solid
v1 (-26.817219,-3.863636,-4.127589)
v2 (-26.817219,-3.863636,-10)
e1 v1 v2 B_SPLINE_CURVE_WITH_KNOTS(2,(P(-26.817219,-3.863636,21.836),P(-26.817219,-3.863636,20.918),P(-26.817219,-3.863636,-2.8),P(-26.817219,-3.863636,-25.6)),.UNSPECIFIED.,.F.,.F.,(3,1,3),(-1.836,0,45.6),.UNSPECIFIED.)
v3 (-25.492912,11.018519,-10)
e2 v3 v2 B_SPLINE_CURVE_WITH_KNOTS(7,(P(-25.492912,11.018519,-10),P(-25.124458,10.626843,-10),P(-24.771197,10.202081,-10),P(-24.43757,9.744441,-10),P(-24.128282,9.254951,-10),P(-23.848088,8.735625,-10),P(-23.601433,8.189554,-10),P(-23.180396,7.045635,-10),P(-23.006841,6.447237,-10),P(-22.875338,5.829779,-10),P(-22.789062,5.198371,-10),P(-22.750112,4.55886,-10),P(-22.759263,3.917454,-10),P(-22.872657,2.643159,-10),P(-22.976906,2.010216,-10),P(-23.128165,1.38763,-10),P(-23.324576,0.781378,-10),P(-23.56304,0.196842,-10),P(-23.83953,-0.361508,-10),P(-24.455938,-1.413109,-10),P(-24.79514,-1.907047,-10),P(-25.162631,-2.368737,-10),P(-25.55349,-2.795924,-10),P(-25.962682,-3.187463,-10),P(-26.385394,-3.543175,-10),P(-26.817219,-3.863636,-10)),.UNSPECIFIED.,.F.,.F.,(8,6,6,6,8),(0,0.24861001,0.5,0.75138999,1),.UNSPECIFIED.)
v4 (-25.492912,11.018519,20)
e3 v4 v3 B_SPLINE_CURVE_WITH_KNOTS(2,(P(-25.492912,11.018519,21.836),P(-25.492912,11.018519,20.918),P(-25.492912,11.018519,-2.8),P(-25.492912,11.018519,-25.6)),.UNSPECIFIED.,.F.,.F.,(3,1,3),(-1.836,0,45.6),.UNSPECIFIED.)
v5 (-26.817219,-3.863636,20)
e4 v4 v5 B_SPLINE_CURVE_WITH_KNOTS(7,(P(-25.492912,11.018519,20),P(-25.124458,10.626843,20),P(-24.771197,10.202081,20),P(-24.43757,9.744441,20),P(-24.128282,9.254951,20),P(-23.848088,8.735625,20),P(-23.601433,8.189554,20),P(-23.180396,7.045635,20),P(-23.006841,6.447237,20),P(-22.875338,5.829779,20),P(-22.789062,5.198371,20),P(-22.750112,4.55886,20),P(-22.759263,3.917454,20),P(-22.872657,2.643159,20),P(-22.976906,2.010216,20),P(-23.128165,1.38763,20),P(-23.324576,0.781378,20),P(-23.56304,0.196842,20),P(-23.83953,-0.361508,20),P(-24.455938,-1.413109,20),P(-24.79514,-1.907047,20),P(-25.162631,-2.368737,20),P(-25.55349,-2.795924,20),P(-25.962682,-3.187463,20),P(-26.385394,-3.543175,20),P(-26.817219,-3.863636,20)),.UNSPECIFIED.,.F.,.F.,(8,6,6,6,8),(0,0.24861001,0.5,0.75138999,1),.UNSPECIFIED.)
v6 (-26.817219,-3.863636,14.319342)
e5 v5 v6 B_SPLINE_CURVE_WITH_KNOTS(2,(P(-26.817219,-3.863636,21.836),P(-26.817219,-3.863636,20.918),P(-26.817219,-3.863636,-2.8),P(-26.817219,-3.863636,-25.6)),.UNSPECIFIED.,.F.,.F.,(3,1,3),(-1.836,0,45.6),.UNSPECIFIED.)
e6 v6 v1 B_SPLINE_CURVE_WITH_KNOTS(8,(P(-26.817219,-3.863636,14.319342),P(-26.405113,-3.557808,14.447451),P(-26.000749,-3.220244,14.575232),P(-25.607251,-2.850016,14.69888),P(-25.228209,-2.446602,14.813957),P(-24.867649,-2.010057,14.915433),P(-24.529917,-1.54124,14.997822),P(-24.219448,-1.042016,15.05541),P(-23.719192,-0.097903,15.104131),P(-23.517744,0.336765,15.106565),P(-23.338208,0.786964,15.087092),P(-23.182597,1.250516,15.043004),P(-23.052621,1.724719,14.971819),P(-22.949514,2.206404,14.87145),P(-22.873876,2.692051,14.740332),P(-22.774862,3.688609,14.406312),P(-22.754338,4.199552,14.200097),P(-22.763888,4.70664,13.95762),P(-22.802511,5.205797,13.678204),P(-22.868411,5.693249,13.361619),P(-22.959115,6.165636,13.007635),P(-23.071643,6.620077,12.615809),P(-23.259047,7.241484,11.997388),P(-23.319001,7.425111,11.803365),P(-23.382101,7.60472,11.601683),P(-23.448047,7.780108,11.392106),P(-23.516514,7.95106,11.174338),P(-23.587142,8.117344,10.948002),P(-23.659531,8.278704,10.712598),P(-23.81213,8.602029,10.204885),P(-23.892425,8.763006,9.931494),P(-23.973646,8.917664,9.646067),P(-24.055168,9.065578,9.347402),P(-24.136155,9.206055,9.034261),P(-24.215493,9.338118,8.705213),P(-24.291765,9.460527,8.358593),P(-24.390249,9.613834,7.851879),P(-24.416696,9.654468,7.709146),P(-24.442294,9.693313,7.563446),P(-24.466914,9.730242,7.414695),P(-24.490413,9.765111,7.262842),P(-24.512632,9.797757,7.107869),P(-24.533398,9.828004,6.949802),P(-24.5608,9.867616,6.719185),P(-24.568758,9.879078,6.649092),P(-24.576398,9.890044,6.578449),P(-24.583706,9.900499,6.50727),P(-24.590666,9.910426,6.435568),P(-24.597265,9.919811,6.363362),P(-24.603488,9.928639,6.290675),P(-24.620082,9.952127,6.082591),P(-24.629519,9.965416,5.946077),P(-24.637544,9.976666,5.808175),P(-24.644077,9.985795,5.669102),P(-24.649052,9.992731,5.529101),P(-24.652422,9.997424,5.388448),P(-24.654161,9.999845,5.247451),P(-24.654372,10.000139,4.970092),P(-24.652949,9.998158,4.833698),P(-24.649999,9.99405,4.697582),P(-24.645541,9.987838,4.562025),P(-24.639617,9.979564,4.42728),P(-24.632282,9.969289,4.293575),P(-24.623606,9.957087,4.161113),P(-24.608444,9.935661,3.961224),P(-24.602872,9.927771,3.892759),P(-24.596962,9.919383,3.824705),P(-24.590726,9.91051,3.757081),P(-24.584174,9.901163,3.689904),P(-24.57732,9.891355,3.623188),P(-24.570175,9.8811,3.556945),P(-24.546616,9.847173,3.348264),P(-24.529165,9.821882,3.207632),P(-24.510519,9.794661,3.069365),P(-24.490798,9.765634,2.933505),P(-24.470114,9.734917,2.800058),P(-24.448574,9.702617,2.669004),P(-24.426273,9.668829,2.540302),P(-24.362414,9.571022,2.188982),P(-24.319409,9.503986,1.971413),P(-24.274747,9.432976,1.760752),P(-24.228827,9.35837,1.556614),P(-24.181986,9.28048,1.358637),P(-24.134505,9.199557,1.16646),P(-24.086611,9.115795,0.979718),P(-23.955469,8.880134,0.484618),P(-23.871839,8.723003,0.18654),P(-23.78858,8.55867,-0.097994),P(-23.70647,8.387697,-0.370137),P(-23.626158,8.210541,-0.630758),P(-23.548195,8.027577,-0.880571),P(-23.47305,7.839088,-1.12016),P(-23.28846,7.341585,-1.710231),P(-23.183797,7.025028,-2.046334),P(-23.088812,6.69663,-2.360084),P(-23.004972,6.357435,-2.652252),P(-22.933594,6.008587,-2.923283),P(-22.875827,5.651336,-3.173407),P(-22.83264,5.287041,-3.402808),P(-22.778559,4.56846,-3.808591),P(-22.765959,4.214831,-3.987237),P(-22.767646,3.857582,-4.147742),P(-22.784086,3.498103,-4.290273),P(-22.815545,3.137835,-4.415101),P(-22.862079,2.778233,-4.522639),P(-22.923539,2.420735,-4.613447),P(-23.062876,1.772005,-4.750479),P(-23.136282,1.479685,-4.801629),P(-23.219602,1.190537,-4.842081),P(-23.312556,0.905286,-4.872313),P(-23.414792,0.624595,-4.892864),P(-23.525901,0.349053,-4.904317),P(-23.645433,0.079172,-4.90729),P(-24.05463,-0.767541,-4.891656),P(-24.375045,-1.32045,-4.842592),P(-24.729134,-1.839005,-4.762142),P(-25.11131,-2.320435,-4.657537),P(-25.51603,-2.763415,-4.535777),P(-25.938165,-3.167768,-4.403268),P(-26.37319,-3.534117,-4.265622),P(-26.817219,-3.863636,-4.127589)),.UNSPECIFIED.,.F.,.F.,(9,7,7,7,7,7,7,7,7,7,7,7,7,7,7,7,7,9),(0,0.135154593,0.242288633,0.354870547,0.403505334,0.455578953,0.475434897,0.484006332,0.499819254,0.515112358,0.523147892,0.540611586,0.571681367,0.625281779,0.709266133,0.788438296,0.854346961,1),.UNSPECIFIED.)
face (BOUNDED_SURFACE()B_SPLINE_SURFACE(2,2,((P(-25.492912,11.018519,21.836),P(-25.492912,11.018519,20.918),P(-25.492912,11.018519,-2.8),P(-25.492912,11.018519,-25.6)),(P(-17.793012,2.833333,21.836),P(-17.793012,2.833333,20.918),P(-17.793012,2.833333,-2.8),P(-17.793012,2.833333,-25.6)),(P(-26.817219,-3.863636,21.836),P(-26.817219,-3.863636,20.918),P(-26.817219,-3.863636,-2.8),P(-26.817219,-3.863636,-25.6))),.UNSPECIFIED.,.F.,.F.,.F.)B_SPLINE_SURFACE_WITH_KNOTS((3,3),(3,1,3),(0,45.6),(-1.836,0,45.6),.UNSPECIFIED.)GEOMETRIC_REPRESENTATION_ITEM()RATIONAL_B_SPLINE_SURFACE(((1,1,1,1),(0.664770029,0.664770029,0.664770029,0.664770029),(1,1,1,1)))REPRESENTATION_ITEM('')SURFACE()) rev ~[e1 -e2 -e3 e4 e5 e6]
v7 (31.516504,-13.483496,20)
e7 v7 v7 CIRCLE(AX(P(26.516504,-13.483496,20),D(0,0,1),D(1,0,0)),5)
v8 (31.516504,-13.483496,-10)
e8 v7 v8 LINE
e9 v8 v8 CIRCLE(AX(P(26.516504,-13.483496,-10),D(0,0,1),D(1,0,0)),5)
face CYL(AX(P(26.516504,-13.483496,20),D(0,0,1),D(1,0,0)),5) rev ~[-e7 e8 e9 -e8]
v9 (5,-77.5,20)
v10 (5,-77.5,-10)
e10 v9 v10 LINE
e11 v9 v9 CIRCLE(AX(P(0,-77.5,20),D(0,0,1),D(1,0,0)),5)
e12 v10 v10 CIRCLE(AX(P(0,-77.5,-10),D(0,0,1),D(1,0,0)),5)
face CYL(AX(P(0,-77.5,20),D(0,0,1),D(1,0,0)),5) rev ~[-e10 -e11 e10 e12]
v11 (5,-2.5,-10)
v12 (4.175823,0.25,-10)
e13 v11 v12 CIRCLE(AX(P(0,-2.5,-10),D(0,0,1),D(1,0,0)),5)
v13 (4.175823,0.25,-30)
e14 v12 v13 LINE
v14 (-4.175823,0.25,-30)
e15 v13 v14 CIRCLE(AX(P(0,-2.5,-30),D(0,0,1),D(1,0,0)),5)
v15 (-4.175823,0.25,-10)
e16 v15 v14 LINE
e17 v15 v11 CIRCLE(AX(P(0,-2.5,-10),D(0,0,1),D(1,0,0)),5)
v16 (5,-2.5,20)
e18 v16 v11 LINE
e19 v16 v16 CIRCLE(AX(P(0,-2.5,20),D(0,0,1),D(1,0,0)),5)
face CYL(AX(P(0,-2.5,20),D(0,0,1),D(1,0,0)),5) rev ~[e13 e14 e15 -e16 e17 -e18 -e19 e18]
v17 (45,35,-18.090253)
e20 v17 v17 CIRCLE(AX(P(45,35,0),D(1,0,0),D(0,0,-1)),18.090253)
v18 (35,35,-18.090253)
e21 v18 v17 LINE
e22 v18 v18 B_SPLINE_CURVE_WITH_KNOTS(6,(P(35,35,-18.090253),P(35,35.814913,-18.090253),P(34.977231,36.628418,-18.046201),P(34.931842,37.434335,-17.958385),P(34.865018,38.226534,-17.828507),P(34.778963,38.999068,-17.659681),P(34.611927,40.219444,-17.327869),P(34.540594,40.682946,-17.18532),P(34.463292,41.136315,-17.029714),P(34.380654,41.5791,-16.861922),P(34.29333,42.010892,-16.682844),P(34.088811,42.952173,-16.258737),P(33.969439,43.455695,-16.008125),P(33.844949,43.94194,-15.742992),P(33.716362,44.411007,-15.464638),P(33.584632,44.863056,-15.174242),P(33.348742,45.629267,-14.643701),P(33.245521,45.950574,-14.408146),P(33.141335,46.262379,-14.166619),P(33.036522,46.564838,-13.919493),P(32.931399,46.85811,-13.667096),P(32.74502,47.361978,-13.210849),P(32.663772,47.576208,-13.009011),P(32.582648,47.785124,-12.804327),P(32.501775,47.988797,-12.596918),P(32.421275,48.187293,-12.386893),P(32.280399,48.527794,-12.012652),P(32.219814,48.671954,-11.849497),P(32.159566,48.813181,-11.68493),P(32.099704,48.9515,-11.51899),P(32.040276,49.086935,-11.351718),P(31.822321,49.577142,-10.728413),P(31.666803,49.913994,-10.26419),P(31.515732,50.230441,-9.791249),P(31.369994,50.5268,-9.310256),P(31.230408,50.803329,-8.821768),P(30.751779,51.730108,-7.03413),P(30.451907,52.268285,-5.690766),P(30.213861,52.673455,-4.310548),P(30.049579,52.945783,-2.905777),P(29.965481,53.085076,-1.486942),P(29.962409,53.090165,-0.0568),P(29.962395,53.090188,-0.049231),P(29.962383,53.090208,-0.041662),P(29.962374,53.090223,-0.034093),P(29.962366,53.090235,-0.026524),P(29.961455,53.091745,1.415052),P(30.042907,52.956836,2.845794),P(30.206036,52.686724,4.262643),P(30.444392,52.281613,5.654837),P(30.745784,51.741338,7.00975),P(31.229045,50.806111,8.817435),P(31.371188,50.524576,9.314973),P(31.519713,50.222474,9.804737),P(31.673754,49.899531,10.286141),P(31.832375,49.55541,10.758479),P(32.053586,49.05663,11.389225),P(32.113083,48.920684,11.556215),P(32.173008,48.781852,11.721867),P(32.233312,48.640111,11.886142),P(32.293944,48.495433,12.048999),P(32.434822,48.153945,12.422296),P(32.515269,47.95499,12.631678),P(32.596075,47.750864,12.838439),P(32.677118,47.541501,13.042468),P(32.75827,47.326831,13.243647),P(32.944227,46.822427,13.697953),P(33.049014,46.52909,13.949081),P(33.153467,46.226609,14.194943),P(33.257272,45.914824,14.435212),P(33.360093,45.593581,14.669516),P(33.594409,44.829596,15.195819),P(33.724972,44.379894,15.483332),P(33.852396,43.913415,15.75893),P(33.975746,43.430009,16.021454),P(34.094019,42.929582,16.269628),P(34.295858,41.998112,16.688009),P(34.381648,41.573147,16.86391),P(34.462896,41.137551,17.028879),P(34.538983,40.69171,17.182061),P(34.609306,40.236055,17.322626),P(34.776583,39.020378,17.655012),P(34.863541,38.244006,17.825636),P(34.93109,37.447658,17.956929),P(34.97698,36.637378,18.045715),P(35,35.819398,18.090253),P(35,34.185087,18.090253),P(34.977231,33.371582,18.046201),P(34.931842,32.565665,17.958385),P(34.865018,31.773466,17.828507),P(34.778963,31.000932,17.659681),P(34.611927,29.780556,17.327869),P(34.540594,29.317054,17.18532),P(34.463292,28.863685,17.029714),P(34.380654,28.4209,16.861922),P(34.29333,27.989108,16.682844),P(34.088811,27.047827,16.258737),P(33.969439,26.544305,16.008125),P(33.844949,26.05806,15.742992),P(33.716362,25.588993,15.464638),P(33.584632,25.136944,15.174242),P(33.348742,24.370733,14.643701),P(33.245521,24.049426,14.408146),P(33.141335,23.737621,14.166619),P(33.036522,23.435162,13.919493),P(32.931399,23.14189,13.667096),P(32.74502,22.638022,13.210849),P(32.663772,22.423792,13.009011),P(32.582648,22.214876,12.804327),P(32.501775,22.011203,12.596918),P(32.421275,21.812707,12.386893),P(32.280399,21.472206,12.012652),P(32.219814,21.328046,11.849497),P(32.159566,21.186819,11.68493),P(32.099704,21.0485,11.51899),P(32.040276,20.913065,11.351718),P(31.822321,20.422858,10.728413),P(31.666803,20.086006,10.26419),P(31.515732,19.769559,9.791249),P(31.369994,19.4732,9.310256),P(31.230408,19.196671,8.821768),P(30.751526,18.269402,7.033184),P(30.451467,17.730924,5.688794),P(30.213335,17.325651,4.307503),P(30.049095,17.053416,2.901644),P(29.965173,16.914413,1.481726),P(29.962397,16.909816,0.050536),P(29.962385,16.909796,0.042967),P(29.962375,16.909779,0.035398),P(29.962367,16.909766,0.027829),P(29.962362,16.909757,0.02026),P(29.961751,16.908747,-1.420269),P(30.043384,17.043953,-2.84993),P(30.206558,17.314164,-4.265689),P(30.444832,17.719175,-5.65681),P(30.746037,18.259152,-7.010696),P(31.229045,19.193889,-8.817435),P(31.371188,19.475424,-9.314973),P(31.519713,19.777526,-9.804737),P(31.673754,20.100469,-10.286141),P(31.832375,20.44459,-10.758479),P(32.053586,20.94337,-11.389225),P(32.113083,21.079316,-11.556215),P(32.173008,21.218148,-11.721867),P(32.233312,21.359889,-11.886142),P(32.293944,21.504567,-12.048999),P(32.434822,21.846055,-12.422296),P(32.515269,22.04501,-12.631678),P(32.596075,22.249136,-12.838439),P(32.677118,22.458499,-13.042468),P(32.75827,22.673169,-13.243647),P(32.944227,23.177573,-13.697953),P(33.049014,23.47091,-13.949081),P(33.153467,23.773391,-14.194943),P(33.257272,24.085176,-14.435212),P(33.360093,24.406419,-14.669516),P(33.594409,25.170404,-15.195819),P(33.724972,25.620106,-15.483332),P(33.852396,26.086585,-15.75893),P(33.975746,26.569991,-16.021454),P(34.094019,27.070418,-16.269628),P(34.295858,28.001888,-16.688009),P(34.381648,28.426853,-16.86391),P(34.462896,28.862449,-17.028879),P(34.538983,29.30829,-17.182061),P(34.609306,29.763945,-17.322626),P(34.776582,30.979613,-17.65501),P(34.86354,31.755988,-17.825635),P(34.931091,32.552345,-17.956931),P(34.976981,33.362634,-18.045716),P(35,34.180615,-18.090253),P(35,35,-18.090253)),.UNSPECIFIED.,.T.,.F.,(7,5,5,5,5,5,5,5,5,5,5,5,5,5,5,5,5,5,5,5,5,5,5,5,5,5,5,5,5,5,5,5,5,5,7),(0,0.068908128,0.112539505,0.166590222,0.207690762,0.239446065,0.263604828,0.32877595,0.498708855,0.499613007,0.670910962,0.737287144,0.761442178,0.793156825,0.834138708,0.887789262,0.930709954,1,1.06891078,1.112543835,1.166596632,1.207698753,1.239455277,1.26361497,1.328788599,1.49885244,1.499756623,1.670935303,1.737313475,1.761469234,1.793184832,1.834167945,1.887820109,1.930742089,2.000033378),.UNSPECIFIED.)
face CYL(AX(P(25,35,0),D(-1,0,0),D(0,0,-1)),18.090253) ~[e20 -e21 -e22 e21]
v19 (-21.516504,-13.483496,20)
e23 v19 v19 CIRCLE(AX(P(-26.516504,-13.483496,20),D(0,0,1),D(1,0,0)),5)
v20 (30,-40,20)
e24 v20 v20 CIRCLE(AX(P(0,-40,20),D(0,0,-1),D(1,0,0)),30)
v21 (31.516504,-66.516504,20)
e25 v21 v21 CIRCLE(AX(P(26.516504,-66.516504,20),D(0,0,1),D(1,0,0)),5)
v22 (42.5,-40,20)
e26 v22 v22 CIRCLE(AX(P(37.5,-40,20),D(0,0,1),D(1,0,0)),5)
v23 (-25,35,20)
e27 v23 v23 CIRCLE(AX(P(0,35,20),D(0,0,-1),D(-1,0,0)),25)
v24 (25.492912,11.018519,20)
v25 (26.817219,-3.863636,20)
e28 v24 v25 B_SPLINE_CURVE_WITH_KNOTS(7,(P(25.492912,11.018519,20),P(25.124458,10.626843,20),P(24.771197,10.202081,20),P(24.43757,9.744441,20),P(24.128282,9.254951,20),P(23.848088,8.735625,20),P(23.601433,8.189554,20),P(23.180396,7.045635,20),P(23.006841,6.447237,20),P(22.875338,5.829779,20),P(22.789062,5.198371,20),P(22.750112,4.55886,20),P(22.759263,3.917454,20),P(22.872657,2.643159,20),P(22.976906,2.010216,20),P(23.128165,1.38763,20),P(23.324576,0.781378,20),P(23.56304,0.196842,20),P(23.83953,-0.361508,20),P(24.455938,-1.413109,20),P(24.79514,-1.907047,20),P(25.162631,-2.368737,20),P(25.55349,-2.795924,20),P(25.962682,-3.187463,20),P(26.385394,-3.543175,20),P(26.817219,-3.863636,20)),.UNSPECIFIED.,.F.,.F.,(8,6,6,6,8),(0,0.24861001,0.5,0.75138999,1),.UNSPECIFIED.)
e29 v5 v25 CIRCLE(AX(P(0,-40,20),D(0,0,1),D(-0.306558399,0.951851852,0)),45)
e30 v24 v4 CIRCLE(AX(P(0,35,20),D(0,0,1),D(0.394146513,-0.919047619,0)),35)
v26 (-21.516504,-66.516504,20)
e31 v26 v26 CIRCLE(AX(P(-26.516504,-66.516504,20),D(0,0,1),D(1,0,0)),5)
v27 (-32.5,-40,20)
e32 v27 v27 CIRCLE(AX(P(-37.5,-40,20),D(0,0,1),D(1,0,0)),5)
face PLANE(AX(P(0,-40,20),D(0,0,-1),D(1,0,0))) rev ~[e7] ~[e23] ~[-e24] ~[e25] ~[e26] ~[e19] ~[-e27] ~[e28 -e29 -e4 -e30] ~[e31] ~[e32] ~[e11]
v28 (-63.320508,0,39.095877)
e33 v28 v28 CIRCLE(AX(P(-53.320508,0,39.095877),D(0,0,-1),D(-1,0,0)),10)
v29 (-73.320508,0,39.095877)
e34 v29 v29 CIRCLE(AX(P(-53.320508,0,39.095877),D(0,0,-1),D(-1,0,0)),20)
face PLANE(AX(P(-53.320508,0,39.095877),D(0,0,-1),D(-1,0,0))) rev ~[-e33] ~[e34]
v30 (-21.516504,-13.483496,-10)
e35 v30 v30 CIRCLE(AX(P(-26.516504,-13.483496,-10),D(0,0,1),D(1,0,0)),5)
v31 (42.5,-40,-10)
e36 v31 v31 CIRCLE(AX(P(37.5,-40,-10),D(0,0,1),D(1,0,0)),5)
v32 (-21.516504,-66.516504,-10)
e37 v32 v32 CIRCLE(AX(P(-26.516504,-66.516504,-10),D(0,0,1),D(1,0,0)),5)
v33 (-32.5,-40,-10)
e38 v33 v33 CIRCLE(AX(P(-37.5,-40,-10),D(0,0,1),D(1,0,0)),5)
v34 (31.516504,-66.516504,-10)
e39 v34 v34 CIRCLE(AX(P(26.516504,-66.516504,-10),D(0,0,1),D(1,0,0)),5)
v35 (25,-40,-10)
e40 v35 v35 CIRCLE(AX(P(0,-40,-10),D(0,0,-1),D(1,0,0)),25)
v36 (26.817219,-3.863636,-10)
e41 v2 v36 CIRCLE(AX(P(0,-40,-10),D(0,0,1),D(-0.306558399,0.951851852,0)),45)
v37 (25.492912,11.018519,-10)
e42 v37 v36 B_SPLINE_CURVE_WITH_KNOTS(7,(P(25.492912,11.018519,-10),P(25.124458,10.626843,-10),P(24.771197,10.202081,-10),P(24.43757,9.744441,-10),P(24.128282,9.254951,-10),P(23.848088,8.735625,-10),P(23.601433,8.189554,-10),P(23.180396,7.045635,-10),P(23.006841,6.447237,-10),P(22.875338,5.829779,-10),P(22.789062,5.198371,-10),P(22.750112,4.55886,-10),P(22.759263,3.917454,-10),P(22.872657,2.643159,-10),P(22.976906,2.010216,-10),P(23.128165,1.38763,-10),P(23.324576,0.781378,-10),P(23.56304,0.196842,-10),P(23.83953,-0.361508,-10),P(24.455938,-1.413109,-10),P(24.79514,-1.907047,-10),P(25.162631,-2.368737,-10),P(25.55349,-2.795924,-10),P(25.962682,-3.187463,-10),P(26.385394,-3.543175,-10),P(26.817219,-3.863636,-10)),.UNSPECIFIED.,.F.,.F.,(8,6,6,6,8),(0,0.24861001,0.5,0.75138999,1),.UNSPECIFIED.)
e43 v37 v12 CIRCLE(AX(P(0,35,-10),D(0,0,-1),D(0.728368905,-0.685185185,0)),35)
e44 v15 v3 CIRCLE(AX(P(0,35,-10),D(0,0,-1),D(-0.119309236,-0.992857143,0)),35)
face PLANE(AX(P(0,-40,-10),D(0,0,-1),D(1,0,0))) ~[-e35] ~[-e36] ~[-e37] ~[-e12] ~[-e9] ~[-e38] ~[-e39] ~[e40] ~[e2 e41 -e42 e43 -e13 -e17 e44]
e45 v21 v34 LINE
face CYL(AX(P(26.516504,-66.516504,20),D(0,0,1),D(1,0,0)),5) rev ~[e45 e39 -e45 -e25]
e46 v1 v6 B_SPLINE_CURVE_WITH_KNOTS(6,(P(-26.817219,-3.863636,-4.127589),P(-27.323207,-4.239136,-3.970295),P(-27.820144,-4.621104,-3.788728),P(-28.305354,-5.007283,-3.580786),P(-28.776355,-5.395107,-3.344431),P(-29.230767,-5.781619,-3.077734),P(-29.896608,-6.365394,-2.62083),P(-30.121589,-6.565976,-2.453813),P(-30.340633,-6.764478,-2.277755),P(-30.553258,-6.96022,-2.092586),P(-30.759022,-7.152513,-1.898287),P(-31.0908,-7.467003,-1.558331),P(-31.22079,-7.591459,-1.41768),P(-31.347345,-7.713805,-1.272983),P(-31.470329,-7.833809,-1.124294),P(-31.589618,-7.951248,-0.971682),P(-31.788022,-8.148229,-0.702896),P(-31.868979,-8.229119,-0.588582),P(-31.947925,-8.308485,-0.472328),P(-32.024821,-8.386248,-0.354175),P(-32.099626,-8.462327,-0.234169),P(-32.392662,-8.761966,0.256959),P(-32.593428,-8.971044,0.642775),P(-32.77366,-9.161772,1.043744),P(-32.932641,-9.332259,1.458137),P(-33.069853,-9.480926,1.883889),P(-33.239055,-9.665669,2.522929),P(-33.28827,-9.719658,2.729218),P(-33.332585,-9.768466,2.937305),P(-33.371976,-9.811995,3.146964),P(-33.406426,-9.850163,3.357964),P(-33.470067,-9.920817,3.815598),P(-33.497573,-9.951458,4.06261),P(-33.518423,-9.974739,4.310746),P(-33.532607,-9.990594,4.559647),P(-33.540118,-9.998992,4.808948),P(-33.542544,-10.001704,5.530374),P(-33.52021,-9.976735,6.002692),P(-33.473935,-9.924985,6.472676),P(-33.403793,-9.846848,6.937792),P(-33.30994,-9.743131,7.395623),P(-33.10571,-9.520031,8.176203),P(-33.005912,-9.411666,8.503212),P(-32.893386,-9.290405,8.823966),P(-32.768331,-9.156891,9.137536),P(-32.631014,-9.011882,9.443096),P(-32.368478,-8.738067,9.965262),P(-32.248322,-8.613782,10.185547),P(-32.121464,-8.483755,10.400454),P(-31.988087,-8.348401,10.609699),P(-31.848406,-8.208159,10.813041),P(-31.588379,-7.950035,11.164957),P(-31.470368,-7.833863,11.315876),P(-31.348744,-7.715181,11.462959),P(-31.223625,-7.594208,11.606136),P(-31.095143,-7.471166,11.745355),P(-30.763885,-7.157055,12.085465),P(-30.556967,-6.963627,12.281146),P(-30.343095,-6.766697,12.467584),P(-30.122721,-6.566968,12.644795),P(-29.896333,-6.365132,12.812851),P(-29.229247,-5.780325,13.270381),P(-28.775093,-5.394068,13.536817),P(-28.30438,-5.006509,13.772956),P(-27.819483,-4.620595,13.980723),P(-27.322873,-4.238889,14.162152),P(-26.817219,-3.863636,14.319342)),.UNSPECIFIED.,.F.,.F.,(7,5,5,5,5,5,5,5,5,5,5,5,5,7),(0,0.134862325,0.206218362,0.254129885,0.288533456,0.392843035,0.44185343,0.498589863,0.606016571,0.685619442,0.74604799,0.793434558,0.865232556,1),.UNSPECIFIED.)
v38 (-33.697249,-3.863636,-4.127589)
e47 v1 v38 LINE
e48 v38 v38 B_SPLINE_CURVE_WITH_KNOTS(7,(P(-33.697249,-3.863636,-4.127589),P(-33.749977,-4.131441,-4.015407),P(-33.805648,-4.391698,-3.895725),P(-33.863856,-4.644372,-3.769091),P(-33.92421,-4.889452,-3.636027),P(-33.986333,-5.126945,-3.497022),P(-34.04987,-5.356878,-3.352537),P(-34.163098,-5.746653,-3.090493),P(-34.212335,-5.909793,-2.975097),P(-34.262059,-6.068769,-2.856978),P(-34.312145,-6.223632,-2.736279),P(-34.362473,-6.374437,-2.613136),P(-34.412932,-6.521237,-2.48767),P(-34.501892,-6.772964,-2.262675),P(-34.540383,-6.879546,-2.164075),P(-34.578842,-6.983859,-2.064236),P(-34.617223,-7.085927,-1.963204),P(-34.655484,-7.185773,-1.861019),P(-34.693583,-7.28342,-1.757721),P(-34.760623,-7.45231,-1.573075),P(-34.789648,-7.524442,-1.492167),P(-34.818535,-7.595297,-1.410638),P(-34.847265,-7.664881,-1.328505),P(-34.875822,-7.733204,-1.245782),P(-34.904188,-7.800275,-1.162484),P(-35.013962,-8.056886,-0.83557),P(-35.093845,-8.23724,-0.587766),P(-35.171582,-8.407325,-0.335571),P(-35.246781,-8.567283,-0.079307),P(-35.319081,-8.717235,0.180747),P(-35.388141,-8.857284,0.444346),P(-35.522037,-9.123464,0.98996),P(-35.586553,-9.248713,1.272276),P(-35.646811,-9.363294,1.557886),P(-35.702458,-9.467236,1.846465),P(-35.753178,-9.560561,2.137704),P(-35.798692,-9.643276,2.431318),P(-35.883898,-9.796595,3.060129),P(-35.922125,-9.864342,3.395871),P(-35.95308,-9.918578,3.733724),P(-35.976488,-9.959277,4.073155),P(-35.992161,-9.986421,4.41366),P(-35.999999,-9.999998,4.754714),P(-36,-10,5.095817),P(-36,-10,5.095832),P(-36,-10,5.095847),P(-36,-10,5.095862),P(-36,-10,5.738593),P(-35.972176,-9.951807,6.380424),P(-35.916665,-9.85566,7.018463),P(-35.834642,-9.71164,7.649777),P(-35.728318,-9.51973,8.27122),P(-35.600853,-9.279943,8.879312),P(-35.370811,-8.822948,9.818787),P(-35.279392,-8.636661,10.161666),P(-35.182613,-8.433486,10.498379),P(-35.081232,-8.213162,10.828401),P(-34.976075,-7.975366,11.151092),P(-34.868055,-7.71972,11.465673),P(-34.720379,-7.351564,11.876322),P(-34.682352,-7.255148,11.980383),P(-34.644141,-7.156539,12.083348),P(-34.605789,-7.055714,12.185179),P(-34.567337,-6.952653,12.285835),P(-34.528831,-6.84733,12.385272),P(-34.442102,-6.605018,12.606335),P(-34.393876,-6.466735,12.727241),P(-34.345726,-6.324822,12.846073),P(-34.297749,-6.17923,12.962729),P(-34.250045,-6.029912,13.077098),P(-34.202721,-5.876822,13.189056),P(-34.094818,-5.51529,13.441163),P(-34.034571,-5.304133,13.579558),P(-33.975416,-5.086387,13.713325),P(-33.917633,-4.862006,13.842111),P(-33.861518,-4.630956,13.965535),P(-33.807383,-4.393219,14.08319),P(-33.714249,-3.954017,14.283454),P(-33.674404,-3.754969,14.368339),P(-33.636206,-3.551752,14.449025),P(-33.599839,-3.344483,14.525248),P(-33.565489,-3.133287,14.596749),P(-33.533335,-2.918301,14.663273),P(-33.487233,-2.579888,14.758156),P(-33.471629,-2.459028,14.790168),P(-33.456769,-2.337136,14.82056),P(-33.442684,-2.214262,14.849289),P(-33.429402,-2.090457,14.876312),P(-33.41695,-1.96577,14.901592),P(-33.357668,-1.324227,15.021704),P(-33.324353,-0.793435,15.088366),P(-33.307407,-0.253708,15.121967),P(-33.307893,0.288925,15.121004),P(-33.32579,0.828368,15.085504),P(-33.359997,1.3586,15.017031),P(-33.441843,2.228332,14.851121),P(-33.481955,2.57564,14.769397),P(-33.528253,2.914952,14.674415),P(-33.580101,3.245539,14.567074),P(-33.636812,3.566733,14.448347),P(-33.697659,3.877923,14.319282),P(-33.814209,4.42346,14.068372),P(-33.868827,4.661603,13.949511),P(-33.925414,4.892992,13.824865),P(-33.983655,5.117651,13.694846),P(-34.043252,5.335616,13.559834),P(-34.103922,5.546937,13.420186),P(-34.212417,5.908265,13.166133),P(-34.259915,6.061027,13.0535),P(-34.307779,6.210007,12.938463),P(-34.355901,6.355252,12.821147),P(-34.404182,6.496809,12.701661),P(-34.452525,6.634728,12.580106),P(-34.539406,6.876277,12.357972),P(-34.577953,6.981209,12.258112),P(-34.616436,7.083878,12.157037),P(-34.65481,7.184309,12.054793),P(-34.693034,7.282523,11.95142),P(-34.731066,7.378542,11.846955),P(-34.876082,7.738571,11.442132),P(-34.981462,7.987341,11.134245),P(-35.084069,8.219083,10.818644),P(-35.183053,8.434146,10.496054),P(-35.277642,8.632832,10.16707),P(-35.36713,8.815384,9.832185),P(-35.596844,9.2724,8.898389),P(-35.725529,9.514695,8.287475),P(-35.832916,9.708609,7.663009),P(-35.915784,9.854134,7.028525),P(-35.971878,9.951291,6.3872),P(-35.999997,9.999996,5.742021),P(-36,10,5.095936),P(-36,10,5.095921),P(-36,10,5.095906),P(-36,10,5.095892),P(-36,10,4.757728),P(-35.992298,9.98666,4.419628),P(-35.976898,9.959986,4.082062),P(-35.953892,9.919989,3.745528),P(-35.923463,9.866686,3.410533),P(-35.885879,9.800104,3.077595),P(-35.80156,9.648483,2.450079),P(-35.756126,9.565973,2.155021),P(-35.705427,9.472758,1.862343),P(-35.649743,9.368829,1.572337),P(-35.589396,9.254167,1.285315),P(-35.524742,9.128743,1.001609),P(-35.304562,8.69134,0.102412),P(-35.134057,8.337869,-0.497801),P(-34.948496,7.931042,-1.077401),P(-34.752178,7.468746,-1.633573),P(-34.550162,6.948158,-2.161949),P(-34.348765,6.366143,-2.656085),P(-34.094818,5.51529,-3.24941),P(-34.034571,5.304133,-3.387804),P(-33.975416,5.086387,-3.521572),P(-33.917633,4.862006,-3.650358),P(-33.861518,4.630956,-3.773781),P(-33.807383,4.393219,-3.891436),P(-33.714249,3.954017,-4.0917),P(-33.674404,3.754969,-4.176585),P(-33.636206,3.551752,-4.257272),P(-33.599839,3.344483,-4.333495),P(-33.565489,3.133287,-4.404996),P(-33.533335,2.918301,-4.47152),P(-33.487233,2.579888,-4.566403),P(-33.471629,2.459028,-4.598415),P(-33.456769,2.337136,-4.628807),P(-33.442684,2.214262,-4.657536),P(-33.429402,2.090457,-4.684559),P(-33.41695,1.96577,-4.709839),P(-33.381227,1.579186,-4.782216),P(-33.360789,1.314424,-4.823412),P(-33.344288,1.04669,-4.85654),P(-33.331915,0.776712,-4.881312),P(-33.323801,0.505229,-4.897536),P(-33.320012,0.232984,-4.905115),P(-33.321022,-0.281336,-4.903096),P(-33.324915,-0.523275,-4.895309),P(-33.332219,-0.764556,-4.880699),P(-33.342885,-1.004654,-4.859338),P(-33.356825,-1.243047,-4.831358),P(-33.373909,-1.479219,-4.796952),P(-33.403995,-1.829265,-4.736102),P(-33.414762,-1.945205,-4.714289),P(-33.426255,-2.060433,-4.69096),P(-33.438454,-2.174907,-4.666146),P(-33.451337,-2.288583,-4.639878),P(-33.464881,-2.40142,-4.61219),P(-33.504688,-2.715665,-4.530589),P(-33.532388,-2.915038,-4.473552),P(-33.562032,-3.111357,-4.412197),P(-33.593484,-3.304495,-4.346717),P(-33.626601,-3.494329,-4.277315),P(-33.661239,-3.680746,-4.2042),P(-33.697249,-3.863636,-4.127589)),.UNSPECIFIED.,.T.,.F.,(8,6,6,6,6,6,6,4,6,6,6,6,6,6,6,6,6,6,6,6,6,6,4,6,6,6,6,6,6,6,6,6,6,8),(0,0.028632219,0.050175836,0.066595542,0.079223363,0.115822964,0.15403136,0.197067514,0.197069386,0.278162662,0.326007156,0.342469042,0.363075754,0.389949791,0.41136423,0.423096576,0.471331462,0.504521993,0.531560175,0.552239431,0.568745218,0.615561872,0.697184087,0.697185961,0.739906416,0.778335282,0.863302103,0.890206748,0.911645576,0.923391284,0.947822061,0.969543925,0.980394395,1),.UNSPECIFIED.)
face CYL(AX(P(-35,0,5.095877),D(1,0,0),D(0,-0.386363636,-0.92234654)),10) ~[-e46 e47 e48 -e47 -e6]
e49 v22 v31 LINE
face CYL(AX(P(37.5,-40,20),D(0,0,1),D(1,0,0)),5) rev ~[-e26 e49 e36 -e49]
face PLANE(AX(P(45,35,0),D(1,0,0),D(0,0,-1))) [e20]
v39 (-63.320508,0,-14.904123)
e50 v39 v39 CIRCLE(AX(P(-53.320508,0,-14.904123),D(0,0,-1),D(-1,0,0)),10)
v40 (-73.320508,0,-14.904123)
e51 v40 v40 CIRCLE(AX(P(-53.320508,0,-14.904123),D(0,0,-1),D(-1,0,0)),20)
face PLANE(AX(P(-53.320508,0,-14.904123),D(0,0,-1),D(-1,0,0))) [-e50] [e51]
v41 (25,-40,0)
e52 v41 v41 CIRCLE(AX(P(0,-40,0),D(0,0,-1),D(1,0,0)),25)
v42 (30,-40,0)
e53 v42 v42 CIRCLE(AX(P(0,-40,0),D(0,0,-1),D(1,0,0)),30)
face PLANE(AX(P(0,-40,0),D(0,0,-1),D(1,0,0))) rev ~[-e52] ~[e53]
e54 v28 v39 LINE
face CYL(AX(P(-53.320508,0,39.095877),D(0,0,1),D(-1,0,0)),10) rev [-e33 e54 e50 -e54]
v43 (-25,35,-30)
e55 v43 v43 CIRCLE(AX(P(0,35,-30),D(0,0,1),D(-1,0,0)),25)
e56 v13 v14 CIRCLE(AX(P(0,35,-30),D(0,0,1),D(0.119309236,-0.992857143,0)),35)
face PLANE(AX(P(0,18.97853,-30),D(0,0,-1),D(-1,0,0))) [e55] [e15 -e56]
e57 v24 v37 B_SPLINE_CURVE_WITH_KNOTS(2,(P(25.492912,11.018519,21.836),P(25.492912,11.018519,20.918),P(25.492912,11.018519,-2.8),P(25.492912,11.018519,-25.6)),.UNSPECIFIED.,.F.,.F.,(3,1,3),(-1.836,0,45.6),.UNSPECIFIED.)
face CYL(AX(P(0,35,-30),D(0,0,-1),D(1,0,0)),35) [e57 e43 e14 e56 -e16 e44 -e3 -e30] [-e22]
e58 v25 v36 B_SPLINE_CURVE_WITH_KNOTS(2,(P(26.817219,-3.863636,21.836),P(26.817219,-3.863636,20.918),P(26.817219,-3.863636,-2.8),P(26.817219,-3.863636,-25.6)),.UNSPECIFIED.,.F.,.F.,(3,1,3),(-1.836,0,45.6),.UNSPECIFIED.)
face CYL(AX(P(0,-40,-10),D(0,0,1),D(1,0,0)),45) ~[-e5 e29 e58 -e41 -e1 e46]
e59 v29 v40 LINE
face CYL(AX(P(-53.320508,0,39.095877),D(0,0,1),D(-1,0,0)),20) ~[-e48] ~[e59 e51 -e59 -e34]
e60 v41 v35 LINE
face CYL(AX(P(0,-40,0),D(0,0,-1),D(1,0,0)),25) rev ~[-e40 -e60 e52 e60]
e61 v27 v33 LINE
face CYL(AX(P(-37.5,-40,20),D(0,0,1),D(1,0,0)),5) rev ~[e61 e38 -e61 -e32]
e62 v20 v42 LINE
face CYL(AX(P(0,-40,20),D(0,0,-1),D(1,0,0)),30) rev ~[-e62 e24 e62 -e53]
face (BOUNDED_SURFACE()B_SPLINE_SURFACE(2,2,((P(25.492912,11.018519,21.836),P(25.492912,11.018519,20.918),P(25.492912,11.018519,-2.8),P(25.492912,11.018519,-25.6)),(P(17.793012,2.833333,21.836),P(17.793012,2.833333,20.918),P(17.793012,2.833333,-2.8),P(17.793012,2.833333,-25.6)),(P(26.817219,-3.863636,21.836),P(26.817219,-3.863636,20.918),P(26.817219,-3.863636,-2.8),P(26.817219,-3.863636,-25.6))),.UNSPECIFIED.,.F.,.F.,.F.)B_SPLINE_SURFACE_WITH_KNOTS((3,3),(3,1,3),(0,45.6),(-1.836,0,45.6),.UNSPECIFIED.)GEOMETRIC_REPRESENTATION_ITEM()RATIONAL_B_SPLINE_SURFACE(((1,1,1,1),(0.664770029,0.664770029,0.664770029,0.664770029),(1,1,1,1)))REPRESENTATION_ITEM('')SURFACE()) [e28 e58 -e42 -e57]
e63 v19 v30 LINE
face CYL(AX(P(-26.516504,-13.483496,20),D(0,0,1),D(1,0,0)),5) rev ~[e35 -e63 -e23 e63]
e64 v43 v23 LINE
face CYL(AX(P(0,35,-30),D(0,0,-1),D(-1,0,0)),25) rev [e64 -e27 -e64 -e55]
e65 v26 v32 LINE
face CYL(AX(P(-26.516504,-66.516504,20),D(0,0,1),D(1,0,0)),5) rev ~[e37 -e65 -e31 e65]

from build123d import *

# Parameters (mm, degrees)
MOTOR_START                     = -30
MOTOR_HOLDER_DEPTH              = 50
SKETCH11_R                      = 5
SCREW_HOLES_DEPTH               = 109.397416943
FILLET1_R                       = 10
BOSS_EXTRUDE4_DEPTH             = 10
BOSS_EXTRUDE4_DEPTH_BACK        = 10
SKETCH14_R                      = 18.090252651
BOSS_EXTRUDE5_REACH             = 122.52
SKETCH17_R                      = 10
BOSS_EXTRUDE5_DIRECTION_2_DEPTH = 1
BOSS_EXTRUDE6_DEPTH             = 10
BOSS_EXTRUDE6_DEPTH_BACK        = 44
SKETCH18_R                      = 20
SKETCH18_R_2                    = 10


with BuildPart() as part:
    # Sketch1 → motor holder (new body)
    with BuildSketch(Plane.XY.offset(MOTOR_START)):
        with BuildLine():
            Line((-35, 35), (-25, 35))
            ThreePointArc((-25, 35), (0, 10), (25, 35))
            Line((25, 35), (35, 35))
            ThreePointArc((35, 35), (0, 0), (-35, 35))
        make_face()
    motor_holder = extrude(amount=MOTOR_HOLDER_DEPTH)

    # Mirror1: motor holder across plane
    add(motor_holder.mirror(Plane(origin=(25, 35, -30), x_dir=(0, 0, 1), z_dir=(0, -1, 0))))

    # Sketch10 → bearing holder (revolve)
    with BuildSketch(Plane(origin=(0, 0, 0), x_dir=(0, 0, -1), z_dir=(1, 0, 0))):
        Polygon((-20, 5), (-20, -10), (0, -10), (0, -15), (10, -15), (10, 5), align=None)
    revolve(axis=Axis((0, -40, 67.918923046), (0, 0, -1)))

    # Sketch11 → screw holes (cut, through all)
    with BuildSketch(Plane.XY.offset(20)):
        with Locations((0, -77.5)):
            Circle(SKETCH11_R)
        with Locations((-26.516504294, -66.516504294)):
            Circle(SKETCH11_R)
        with Locations((-37.5, -40)):
            Circle(SKETCH11_R)
        with Locations((-26.516504294, -13.483495706)):
            Circle(SKETCH11_R)
        with Locations((0, -2.5)):
            Circle(SKETCH11_R)
        with Locations((26.516504294, -13.483495706)):
            Circle(SKETCH11_R)
        with Locations((37.5, -40)):
            Circle(SKETCH11_R)
        with Locations((26.516504294, -66.516504294)):
            Circle(SKETCH11_R)
    extrude(amount=-SCREW_HOLES_DEPTH, mode=Mode.SUBTRACT)

    # Fillet1
    fillet1_edges = [part.edges().sort_by_distance(p)[0] for p in [
        (-13.795127964, 2.833333333, 5),
        (13.795127964, 2.833333333, 5),
    ]]
    fillet(fillet1_edges, radius=FILLET1_R)

    # Sketch14 → Boss-Extrude4 (add, two sides: drawn at the far end of the back side and taken through both)
    with BuildSketch(Plane(origin=(35, 0, 0), x_dir=(0, 0, -1), z_dir=(1, 0, 0)).offset(-BOSS_EXTRUDE4_DEPTH_BACK)):
        with Locations((0, 35)):
            Circle(SKETCH14_R)
    extrude(amount=BOSS_EXTRUDE4_DEPTH + BOSS_EXTRUDE4_DEPTH_BACK)

    # Sketch17 → Boss-Extrude5 (add, up to next)
    with BuildSketch(Plane.ZY.offset(35), mode=Mode.PRIVATE) as boss_extrude5_sk1:
        with Locations((5.095876685, 0)):
            Circle(SKETCH17_R)
    boss_extrude5_tool1 = extrude(boss_extrude5_sk1.sketch, amount=-BOSS_EXTRUDE5_REACH, mode=Mode.PRIVATE) - part.part
    add(boss_extrude5_tool1.solids().sort_by_distance((-35, 0, 5.095877))[0])

    # Sketch17 → Boss-Extrude5 direction 2 (add)
    with BuildSketch(Plane.ZY.offset(35)):
        with Locations((5.095876685, 0)):
            Circle(SKETCH17_R)
    extrude(amount=BOSS_EXTRUDE5_DIRECTION_2_DEPTH)

    # Sketch18 → Boss-Extrude6 (add, two sides: drawn at the far end of the back side and taken through both)
    with BuildSketch(Plane(origin=(0, 0, -4.904123315), x_dir=(-1, 0, 0), z_dir=(0, 0, -1)).offset(-BOSS_EXTRUDE6_DEPTH_BACK)):
        with Locations((53.320508076, 0)):
            Circle(SKETCH18_R)
        with Locations((53.320508076, 0)):
            Circle(SKETCH18_R_2, mode=Mode.SUBTRACT)
    extrude(amount=BOSS_EXTRUDE6_DEPTH + BOSS_EXTRUDE6_DEPTH_BACK)


solid = part.part
